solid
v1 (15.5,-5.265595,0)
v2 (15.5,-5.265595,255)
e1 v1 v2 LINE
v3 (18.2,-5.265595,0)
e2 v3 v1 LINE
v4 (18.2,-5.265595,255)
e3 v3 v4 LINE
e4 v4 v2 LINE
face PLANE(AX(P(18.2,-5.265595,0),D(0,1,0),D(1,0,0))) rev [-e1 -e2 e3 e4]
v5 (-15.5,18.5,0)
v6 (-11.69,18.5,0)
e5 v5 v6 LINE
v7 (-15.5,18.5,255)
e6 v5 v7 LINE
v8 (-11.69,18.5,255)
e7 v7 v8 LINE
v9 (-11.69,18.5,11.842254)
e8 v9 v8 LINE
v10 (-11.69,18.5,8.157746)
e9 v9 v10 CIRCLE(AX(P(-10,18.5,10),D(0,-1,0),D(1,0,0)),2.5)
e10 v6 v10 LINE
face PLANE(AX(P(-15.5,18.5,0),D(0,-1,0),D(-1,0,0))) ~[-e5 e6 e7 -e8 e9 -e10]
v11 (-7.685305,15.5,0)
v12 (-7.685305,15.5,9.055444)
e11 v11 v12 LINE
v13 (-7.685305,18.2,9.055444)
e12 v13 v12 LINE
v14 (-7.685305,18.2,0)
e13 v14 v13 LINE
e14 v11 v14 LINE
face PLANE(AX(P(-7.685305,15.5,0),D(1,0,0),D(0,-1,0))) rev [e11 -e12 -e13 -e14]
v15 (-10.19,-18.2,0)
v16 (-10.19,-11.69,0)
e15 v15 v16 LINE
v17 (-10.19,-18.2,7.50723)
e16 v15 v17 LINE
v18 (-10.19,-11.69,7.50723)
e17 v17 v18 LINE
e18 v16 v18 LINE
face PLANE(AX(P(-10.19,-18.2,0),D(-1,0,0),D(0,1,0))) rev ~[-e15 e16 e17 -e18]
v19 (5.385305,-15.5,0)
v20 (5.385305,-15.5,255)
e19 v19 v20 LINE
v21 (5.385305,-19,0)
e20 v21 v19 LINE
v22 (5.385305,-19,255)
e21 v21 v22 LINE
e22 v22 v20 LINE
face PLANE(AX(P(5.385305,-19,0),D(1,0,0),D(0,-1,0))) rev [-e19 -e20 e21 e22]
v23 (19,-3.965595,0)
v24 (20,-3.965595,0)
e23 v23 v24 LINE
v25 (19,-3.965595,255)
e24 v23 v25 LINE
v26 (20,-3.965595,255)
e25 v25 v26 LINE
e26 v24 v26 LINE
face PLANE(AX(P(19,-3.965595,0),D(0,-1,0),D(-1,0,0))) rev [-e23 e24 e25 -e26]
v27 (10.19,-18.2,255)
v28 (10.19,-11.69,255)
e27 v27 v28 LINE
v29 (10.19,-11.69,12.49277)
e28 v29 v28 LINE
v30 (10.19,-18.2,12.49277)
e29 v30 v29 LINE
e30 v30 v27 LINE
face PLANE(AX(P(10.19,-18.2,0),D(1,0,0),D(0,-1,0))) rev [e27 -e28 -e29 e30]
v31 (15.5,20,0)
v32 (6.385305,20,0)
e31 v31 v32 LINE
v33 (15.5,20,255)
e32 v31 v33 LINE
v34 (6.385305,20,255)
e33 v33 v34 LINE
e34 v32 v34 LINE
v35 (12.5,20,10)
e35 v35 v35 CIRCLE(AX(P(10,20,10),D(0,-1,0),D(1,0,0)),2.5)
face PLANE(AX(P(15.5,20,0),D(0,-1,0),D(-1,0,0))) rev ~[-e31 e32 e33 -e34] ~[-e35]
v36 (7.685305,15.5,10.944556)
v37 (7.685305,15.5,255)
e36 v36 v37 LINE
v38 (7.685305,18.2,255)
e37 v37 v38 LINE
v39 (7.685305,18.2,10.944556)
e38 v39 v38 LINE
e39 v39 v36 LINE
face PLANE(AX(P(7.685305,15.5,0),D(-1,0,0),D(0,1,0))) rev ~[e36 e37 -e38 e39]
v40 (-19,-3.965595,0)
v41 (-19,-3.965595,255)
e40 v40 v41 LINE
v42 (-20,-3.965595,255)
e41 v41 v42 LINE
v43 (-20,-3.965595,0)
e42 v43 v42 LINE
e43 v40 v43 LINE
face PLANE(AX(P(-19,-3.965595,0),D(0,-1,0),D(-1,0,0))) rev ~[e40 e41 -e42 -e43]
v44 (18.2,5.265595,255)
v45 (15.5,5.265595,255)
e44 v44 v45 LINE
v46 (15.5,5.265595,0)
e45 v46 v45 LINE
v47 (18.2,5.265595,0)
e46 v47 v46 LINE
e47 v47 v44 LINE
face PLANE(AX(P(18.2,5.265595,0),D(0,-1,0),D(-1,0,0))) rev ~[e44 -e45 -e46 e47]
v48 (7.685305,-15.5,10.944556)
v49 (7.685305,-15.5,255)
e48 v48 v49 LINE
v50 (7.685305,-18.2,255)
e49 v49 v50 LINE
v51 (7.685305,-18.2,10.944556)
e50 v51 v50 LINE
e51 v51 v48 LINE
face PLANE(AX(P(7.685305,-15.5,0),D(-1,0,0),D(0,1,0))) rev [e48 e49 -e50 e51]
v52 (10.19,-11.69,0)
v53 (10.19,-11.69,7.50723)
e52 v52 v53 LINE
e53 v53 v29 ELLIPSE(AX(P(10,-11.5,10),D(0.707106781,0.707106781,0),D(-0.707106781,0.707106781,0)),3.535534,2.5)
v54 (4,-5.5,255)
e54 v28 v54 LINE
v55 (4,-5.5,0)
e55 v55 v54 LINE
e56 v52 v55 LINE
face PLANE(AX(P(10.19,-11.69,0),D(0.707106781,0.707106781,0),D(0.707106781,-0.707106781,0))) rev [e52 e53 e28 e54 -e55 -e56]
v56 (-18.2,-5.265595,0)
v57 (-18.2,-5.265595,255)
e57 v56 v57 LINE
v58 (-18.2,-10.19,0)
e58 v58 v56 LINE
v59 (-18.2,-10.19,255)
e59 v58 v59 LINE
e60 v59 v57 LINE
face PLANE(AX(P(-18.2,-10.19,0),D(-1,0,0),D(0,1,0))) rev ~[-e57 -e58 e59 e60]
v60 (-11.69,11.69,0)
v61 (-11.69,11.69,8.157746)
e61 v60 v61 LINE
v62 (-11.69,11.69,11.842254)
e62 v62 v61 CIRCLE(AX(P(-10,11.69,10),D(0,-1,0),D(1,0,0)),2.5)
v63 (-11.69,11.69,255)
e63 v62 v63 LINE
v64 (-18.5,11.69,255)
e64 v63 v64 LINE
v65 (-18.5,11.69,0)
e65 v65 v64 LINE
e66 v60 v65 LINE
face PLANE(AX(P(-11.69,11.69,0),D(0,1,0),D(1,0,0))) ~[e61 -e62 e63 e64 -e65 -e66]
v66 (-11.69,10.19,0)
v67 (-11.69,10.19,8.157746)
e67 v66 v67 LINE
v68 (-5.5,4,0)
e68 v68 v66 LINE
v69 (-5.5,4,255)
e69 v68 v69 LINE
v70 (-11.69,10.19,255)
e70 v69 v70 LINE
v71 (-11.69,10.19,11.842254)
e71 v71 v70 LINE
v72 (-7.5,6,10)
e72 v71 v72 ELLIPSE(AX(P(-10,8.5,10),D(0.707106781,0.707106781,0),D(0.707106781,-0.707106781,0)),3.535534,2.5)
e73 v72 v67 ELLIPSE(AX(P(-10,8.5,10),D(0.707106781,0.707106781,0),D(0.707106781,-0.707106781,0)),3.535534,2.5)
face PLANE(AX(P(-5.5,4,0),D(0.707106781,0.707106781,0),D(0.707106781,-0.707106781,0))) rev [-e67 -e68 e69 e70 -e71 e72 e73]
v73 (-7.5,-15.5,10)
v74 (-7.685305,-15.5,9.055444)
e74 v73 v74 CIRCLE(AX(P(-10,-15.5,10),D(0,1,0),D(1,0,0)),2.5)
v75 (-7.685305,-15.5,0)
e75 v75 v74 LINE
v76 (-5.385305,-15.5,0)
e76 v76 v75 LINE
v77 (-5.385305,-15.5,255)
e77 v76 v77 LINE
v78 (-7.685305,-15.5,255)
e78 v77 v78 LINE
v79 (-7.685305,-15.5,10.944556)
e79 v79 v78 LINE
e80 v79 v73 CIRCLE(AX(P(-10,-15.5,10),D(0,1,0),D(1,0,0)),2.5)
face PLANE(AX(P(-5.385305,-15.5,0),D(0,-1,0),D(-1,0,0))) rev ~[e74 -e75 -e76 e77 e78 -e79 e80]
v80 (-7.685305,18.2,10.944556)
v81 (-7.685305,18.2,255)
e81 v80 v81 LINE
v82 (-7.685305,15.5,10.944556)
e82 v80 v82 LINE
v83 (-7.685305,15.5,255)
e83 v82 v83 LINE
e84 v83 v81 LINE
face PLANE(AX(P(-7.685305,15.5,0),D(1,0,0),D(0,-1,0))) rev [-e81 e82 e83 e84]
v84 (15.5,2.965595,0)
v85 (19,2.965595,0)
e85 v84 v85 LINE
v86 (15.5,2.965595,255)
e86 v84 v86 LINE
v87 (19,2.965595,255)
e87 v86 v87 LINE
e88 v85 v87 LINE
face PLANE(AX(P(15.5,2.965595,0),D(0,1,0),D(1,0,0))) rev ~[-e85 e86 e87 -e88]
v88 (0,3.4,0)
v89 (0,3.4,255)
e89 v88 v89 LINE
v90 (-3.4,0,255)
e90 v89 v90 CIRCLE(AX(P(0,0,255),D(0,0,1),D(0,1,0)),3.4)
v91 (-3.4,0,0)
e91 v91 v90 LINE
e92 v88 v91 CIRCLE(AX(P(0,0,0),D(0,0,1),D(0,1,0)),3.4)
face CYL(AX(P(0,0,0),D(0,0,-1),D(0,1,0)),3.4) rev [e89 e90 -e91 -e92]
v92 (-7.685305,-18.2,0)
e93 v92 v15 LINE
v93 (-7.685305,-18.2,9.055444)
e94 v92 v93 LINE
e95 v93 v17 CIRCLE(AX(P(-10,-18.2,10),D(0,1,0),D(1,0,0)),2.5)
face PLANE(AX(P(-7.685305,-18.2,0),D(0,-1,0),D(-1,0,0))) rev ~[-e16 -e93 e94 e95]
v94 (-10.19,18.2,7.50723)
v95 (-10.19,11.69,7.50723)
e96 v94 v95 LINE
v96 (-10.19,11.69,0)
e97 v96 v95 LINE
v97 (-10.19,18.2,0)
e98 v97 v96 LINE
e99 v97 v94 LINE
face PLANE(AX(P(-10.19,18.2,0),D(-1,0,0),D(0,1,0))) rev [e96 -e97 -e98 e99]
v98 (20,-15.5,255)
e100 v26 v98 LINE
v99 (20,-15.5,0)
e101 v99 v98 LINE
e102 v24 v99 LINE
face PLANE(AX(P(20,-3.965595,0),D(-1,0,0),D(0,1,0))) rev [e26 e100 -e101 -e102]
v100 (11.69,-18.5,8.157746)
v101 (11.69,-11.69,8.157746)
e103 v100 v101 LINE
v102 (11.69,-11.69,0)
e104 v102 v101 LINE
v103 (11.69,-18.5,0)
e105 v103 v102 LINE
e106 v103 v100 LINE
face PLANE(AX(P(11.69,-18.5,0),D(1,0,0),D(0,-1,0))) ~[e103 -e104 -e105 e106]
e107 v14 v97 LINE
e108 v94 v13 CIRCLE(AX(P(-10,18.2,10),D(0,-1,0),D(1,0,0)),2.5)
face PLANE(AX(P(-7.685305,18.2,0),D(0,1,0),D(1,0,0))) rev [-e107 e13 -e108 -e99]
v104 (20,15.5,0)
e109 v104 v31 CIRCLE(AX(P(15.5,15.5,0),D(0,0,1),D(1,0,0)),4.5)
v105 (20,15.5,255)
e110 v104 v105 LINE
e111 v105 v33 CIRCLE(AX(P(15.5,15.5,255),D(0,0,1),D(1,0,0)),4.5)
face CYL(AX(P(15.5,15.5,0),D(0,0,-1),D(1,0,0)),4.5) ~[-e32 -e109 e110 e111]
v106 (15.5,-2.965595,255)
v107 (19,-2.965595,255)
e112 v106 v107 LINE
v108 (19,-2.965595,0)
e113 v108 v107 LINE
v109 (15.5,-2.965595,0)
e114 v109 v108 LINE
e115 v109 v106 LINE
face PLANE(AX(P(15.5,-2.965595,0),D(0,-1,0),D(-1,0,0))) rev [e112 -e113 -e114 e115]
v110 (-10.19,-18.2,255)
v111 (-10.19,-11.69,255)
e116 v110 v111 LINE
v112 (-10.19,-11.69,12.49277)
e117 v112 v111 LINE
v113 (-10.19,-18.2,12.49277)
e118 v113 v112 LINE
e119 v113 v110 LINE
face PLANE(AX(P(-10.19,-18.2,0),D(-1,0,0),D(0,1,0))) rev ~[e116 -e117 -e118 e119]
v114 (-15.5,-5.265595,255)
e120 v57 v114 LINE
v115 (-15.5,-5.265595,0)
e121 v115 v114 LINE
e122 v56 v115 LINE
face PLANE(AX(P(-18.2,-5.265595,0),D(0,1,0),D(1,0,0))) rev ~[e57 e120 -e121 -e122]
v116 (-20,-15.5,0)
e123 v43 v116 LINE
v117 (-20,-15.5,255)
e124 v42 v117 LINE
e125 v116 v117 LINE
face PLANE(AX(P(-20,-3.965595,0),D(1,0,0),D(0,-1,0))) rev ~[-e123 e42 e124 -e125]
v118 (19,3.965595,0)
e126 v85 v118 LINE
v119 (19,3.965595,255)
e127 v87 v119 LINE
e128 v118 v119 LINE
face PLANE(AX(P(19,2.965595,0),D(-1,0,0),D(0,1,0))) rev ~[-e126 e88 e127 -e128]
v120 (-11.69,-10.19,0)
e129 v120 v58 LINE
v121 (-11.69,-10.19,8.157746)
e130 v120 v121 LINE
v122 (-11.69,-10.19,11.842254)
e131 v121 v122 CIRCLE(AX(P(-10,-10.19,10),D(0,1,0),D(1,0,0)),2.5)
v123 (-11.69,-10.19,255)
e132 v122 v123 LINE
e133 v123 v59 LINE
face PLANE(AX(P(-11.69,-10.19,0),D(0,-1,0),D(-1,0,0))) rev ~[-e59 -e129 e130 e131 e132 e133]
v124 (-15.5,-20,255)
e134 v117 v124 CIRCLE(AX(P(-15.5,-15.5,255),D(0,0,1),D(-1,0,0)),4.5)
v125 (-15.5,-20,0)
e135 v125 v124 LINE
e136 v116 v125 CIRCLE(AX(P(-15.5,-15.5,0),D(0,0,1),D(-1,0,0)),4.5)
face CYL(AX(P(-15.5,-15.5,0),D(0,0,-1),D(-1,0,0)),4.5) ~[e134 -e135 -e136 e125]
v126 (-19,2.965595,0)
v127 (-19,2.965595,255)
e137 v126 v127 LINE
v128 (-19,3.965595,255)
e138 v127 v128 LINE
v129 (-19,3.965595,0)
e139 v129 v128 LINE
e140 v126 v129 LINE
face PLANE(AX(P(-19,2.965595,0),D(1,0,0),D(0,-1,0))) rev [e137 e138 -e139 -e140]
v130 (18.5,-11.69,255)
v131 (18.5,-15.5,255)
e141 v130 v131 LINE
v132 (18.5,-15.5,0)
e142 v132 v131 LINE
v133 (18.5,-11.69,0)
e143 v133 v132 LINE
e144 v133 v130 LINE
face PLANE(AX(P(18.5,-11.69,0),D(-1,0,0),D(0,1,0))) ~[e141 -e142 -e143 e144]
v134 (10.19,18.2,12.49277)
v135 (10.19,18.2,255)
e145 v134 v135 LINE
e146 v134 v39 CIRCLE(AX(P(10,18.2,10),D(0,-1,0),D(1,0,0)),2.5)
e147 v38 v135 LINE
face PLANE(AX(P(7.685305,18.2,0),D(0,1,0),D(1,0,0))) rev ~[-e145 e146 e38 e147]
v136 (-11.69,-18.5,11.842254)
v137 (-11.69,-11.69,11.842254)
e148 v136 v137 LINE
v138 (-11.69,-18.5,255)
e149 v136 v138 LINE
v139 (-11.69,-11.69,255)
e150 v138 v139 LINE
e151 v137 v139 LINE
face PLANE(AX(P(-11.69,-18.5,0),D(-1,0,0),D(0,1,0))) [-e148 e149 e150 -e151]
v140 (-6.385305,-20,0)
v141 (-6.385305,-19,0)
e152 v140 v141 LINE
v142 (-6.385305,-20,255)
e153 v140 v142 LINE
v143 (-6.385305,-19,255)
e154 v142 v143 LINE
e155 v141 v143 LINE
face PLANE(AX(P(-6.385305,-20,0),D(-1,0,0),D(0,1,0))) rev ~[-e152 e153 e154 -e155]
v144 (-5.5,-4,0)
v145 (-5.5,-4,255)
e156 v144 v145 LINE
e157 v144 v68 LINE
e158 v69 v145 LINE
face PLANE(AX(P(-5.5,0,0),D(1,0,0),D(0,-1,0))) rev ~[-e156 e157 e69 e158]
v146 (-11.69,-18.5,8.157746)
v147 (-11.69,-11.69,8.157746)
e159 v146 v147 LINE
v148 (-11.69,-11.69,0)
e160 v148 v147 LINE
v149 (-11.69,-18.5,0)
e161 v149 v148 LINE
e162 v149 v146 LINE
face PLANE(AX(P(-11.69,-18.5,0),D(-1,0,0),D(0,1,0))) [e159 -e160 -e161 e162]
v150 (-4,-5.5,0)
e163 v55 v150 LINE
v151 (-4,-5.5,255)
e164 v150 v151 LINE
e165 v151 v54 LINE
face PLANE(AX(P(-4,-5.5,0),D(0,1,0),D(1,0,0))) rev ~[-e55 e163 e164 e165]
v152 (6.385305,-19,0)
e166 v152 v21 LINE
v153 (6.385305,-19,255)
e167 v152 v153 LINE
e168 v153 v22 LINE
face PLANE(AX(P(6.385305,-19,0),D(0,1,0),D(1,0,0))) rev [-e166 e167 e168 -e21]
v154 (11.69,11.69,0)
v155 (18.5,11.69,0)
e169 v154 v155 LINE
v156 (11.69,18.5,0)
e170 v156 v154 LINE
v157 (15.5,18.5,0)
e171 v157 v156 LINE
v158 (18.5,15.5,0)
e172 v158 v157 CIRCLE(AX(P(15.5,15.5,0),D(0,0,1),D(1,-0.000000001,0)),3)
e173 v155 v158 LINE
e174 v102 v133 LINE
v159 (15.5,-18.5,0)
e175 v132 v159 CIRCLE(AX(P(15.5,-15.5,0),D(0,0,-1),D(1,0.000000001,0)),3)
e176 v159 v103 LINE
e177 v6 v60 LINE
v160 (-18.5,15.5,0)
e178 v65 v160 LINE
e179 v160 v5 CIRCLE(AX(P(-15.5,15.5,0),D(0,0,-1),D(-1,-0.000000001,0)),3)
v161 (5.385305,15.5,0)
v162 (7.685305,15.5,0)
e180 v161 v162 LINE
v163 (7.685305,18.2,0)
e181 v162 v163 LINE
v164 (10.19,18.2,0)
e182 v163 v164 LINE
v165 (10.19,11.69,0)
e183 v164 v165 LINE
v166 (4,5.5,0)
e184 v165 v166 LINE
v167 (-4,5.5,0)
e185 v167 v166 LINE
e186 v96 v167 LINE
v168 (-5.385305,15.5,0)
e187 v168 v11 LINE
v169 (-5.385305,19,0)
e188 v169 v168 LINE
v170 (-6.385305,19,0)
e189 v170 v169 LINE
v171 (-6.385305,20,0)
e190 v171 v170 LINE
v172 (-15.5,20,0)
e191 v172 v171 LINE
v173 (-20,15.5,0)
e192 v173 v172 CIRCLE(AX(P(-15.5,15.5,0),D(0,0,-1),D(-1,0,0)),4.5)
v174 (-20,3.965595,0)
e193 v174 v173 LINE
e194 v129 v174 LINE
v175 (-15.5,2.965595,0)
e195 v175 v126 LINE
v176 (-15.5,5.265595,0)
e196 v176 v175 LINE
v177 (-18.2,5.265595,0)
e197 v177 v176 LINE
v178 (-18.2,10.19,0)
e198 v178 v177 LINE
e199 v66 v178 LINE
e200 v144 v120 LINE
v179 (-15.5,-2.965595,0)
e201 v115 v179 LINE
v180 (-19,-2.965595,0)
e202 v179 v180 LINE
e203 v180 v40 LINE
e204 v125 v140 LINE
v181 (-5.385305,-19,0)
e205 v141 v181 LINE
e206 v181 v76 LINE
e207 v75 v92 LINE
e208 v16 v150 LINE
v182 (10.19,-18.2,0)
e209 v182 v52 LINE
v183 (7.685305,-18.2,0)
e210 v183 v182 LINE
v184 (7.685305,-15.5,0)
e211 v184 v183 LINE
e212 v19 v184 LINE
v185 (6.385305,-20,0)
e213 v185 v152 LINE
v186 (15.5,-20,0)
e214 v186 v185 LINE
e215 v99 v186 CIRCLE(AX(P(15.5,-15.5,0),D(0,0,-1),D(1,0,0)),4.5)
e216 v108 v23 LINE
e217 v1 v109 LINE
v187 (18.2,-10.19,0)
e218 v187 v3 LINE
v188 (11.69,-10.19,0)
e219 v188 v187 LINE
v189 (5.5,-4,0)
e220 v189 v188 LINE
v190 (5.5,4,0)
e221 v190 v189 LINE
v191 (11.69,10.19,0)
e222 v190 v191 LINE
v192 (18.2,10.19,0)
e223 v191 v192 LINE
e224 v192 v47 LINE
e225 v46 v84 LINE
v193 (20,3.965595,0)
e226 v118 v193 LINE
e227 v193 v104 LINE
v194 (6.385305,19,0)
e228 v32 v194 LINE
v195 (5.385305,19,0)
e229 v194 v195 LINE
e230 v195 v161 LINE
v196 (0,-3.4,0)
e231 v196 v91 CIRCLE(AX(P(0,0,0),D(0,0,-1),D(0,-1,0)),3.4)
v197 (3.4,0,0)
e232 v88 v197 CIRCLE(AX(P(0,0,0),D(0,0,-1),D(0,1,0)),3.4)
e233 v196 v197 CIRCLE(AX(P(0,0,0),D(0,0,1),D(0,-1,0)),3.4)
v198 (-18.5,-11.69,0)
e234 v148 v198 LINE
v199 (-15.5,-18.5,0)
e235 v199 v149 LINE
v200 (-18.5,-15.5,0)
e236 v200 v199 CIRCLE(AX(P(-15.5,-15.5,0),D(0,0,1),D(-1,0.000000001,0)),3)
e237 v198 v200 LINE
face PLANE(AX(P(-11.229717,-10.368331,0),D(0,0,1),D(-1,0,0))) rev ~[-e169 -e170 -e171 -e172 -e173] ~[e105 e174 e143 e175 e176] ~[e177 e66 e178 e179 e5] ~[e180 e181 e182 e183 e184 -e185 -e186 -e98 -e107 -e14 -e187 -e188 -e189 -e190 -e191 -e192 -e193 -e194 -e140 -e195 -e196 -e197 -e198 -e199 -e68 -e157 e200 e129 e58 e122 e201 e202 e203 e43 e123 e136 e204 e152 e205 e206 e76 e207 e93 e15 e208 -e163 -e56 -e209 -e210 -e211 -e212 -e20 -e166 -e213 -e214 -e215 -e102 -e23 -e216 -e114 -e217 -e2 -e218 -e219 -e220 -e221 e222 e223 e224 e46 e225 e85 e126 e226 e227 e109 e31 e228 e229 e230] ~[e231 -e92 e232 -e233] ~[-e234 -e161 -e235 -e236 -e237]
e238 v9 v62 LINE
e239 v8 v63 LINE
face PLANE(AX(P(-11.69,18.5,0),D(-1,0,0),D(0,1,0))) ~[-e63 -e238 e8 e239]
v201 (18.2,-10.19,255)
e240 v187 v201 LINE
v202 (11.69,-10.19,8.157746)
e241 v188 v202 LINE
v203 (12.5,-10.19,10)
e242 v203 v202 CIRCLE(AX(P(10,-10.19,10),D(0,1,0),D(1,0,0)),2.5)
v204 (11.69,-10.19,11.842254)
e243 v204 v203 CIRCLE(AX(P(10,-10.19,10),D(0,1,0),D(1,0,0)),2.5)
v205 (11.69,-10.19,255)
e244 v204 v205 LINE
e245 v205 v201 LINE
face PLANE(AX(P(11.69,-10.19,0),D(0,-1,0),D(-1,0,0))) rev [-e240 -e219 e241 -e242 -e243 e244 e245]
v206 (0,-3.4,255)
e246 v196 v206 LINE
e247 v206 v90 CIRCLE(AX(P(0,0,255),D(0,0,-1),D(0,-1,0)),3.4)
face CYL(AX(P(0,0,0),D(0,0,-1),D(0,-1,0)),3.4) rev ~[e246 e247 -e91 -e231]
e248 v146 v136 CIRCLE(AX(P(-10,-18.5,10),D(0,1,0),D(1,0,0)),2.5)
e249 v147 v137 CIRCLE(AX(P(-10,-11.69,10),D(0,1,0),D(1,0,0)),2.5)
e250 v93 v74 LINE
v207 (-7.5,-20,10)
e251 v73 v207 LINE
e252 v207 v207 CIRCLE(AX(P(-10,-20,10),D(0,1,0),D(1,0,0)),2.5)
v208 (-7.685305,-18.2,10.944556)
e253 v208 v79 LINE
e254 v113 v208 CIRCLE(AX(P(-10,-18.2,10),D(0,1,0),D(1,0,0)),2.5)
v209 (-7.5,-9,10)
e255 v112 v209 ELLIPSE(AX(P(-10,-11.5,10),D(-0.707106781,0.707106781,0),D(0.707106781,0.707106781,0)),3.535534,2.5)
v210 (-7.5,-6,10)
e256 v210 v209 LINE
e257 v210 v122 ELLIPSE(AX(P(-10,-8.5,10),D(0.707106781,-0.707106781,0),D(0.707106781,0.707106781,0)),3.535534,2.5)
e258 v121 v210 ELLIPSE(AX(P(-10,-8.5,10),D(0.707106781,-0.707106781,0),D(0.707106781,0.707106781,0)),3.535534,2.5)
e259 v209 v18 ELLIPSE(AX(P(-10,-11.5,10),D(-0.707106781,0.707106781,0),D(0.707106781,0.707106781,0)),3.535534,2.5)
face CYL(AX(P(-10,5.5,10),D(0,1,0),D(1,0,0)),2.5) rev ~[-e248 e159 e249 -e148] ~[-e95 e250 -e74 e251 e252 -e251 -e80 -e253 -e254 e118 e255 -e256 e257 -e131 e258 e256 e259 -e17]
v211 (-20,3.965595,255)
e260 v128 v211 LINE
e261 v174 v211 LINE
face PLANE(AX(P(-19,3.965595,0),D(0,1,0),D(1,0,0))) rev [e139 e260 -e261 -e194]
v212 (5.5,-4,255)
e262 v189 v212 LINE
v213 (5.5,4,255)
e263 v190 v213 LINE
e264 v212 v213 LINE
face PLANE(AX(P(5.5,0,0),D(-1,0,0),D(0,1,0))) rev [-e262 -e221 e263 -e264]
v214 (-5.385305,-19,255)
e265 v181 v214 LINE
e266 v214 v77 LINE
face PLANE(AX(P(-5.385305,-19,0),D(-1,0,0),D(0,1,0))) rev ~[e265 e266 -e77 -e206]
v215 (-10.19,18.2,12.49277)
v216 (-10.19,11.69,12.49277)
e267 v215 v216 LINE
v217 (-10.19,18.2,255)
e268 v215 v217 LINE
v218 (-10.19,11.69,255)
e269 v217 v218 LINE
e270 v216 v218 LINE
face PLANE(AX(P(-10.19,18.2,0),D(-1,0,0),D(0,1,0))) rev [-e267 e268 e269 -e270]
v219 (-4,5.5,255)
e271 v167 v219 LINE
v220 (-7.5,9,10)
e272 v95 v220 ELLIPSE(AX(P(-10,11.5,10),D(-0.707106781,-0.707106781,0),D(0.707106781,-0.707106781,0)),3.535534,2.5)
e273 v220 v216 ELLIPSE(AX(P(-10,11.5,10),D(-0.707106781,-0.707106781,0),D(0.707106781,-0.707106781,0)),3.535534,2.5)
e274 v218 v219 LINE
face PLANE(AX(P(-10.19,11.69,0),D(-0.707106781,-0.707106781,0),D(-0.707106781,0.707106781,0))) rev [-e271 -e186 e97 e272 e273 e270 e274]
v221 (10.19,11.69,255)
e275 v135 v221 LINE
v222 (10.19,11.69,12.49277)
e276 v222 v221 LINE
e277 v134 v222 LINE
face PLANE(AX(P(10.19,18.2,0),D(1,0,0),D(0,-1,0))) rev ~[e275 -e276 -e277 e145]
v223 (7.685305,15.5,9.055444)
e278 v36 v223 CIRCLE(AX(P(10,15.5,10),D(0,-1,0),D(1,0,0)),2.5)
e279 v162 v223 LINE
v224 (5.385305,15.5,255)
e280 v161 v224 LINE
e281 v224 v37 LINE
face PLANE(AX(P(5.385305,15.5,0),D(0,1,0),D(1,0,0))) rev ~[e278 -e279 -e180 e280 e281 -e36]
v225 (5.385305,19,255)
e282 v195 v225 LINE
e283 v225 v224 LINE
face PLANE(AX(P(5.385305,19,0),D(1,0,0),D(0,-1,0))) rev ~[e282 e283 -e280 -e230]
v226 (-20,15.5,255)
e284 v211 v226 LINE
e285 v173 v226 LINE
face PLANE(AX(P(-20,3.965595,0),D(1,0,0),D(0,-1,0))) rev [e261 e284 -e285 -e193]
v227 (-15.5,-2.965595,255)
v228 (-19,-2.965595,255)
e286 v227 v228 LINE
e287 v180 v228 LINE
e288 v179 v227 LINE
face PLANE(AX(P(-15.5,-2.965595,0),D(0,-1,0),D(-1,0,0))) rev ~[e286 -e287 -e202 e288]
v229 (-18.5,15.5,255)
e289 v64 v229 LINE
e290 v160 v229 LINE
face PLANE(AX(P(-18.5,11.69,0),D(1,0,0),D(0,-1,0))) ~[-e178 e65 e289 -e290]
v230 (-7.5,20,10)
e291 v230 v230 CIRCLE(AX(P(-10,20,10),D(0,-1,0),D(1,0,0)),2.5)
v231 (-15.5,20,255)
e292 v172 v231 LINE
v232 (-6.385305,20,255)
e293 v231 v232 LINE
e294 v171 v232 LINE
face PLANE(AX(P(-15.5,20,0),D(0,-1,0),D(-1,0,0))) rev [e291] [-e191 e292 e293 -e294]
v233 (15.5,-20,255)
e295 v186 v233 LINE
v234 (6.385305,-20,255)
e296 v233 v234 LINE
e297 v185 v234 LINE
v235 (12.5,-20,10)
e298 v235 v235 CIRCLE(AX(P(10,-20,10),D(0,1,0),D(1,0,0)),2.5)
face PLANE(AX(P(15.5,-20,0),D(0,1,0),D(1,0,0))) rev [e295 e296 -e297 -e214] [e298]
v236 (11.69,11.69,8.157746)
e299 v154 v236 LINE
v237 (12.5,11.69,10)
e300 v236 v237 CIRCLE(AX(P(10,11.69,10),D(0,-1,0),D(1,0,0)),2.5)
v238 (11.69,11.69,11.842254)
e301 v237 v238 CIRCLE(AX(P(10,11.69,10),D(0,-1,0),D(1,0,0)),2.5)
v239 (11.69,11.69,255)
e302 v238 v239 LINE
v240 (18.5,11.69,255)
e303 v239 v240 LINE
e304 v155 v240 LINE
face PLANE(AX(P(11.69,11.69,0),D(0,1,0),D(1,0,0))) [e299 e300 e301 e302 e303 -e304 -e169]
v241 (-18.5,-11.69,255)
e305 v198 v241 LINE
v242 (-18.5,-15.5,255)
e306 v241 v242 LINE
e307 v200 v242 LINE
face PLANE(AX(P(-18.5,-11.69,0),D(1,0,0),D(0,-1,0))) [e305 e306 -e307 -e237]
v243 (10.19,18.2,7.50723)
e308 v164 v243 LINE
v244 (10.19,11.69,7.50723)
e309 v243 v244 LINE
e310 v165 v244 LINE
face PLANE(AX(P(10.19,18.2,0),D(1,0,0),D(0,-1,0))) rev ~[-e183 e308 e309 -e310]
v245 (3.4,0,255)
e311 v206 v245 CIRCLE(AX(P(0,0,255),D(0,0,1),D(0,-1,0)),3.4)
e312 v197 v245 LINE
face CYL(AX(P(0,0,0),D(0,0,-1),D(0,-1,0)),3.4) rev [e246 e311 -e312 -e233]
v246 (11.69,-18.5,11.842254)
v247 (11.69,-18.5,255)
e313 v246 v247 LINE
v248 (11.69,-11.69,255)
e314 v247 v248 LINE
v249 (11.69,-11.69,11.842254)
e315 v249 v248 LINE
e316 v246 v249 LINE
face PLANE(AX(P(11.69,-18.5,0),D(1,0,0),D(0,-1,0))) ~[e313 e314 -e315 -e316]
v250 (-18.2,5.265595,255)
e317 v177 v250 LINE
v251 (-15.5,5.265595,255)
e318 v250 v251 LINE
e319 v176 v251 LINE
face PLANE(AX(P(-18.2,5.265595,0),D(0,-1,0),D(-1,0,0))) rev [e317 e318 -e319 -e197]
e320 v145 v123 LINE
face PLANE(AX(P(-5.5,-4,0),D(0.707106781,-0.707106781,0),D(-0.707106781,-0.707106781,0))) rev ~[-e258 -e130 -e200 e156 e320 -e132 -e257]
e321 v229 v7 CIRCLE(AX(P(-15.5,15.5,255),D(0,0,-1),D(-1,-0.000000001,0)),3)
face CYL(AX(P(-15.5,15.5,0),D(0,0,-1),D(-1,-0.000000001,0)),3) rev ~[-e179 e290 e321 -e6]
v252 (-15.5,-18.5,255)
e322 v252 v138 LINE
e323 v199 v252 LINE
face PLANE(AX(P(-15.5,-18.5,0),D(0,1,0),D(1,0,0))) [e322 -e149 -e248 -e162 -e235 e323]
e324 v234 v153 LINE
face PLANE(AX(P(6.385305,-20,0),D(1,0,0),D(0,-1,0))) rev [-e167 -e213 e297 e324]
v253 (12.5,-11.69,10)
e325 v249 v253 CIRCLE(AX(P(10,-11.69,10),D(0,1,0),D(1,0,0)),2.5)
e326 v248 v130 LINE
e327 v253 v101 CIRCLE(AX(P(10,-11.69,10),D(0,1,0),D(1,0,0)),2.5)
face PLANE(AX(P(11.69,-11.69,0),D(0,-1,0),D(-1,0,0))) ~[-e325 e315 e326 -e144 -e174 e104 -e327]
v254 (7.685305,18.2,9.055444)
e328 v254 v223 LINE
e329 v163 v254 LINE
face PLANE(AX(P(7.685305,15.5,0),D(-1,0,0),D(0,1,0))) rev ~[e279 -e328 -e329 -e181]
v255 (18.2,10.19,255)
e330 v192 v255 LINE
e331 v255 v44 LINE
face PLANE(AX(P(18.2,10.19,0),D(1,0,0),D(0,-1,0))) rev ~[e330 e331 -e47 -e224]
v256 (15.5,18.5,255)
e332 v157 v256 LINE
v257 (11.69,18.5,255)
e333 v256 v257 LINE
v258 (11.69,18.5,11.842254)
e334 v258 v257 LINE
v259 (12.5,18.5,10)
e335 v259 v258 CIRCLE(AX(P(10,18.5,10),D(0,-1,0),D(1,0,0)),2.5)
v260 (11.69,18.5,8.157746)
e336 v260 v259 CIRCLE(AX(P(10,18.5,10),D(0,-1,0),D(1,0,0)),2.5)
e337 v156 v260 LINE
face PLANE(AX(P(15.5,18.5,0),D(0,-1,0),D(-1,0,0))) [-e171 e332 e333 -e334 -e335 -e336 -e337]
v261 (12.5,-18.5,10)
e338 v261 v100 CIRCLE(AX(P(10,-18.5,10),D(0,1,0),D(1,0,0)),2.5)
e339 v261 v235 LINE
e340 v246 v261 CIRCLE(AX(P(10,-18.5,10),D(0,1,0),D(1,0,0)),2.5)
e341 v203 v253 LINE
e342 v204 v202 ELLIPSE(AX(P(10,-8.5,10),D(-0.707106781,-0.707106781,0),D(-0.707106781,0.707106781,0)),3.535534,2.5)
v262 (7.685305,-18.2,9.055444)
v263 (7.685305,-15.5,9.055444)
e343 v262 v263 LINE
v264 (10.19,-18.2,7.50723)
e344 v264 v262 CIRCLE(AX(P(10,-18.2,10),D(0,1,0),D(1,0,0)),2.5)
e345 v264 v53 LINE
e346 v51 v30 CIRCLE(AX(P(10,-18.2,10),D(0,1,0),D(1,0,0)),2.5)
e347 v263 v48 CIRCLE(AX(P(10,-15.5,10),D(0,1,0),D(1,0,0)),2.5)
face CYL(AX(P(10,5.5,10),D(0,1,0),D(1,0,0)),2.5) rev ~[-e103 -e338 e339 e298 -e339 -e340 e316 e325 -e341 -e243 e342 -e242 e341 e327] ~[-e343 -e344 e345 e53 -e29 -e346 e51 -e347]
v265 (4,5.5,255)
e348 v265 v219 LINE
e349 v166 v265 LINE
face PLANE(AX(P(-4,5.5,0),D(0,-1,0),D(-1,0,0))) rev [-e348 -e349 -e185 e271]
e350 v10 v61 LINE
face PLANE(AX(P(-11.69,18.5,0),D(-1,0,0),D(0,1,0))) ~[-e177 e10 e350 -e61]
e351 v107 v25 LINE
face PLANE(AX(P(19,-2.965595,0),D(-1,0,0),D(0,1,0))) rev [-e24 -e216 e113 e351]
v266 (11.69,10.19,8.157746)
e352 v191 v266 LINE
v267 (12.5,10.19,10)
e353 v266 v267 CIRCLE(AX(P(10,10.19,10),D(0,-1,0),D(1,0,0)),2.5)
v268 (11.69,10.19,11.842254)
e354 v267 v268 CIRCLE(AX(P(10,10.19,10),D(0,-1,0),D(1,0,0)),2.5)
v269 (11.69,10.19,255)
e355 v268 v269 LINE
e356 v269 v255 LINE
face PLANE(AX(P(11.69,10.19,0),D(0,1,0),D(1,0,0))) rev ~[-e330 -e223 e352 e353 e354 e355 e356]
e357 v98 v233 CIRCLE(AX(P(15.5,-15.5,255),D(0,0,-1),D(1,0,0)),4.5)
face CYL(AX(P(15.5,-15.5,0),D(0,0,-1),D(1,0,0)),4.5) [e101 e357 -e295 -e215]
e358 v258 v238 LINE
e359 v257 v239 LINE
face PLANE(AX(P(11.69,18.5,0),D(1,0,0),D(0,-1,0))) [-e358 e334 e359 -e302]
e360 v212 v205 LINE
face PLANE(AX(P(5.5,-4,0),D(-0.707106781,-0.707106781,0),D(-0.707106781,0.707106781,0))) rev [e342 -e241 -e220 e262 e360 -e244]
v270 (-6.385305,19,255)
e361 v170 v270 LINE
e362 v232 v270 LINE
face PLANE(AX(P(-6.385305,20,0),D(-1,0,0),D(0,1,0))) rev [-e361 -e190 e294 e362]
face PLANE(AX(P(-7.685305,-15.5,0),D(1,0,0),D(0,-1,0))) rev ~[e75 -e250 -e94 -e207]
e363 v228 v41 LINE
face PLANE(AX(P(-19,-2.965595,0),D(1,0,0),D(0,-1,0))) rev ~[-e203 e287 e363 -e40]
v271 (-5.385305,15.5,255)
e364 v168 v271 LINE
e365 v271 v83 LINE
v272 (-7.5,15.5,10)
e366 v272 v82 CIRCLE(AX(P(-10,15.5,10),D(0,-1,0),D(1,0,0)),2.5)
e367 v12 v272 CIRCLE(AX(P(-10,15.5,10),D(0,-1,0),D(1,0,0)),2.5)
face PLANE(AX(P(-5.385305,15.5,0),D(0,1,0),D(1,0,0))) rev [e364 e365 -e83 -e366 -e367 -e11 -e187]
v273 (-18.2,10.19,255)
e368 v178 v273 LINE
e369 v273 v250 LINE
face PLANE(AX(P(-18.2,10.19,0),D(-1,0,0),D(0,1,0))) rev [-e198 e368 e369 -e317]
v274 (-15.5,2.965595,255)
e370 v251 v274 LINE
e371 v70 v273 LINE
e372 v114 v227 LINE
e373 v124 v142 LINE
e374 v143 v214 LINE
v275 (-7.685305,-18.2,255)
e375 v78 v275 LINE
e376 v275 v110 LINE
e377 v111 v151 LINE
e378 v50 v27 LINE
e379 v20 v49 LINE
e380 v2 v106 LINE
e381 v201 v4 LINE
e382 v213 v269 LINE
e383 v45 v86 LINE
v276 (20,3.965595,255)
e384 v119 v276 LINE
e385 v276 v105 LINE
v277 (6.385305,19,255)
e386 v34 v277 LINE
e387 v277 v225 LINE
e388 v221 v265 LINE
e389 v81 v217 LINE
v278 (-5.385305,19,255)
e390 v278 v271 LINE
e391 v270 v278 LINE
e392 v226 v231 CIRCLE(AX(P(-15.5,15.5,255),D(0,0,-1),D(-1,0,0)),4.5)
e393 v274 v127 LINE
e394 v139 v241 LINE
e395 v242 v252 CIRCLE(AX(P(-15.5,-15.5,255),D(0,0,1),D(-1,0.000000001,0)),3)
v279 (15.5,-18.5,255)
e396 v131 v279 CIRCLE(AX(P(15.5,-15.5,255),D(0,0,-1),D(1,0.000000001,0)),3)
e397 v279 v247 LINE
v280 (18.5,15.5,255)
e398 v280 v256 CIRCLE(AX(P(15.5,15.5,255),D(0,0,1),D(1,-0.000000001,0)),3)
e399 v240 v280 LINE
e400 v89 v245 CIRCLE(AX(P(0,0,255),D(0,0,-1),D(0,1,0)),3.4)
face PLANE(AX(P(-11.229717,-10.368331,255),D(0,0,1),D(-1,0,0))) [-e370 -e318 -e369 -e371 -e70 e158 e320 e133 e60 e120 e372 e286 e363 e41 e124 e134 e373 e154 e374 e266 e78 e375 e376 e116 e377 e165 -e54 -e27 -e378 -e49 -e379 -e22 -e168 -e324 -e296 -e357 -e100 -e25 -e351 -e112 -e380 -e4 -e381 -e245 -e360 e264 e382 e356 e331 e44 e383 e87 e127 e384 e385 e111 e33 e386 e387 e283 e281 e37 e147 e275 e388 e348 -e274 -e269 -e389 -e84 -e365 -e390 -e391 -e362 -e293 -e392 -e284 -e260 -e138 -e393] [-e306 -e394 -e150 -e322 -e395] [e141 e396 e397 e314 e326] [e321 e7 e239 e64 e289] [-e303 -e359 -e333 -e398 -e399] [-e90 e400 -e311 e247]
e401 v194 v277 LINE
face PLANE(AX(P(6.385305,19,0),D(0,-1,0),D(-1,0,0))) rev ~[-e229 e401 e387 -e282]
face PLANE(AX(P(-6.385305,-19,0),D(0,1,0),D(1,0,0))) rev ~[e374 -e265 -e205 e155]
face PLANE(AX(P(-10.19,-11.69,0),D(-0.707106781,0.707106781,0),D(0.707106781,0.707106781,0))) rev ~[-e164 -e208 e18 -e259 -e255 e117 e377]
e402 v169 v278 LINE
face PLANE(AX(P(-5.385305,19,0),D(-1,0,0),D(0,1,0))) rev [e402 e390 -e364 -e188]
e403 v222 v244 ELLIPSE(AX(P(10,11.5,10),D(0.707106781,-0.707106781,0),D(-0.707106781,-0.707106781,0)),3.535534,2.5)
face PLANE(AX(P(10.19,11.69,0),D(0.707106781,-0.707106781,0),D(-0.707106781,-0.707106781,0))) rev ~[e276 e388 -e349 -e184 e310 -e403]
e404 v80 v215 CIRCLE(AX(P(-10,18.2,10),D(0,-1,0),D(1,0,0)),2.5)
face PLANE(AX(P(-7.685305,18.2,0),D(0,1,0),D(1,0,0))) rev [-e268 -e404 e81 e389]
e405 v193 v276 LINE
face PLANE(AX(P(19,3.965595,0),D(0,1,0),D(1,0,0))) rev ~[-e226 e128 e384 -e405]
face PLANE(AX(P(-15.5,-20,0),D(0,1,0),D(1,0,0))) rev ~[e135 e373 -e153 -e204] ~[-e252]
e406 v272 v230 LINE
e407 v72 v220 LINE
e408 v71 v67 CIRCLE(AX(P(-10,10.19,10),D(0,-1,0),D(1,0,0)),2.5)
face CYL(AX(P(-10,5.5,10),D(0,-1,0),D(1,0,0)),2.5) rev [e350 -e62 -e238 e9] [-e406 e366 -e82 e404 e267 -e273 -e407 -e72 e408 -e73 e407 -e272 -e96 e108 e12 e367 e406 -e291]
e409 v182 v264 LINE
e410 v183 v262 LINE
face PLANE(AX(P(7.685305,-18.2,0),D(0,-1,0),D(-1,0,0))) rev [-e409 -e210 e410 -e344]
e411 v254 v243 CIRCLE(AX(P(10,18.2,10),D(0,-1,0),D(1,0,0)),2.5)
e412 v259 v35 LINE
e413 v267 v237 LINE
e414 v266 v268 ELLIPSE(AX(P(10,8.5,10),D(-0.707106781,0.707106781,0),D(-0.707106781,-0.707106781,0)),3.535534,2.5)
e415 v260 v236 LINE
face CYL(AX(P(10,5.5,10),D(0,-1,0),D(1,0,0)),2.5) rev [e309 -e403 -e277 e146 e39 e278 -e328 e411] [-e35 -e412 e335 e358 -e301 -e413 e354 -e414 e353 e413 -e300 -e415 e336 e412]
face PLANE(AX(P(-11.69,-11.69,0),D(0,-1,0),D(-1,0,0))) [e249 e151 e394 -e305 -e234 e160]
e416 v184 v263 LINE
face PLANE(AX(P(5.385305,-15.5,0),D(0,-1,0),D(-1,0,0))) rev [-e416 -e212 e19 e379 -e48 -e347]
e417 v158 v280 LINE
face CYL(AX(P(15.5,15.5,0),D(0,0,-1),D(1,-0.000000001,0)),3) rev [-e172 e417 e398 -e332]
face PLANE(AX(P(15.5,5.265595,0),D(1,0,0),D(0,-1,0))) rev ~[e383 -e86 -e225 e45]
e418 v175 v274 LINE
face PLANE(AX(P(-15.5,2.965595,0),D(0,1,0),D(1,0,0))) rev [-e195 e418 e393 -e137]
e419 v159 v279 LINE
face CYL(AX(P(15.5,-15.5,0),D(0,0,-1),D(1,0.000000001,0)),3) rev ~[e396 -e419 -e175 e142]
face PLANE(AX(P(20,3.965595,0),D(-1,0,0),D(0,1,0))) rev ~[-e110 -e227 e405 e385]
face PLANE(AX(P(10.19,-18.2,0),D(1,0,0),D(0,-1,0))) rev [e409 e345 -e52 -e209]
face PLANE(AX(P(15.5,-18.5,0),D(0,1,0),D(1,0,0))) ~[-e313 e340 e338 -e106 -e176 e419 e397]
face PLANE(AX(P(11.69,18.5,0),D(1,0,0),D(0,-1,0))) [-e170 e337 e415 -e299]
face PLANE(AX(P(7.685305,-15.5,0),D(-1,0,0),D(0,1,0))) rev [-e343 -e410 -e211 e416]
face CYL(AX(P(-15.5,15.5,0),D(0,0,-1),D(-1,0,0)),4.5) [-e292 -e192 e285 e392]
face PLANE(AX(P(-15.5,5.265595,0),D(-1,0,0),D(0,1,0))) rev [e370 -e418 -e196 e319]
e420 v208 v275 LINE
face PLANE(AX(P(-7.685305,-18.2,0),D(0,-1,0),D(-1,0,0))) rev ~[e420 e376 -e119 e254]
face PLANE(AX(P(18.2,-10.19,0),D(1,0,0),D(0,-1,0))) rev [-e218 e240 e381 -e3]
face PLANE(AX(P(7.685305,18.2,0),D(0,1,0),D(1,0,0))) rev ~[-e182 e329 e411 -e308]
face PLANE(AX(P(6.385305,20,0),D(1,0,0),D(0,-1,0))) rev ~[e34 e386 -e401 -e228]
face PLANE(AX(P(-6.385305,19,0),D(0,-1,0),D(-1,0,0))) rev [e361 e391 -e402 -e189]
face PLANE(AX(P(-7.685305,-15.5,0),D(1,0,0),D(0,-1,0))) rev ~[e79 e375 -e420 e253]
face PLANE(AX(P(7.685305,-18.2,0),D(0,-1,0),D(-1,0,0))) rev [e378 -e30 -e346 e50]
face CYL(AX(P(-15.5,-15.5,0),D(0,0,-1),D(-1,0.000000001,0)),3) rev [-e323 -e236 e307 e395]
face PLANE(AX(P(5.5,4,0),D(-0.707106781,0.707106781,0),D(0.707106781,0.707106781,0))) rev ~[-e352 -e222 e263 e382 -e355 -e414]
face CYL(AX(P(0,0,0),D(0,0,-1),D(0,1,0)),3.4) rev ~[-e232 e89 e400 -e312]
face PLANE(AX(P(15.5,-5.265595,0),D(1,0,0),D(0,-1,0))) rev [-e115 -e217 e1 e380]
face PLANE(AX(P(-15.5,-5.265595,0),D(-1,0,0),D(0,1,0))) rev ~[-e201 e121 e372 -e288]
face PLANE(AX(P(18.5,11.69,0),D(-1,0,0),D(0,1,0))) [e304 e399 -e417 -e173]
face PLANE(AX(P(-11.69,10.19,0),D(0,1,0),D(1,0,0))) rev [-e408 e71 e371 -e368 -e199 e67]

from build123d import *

# Parameters (mm, degrees)
BOSS_EXTRUDE1_DEPTH     = 255
MIRROR3_COPY_1_DEPTH    = 255
MIRROR3_COPY_2_DEPTH    = 255
SKETCH2_R               = 2.5
CUT_EXTRUDE1_DEPTH      = 15.5
CUT_EXTRUDE1_DEPTH_BACK = 26.5


with BuildPart() as part:
    # Sketch1 → Boss-Extrude1 (new body)
    with BuildSketch(Plane.XY):
        with BuildLine():
            Line((3.4, 0), (5.5, 0))
            Line((5.5, 0), (5.5, 4))
            Line((5.5, 4), (11.69, 10.19))
            Line((11.69, 10.19), (18.2, 10.19))
            Line((18.2, 10.19), (18.2, 5.265595036))
            Line((18.2, 5.265595036), (15.5, 5.265595036))
            Line((15.5, 5.265595036), (15.5, 2.965595036))
            Line((15.5, 2.965595036), (19, 2.965595036))
            Line((19, 2.965595036), (19, 3.965595036))
            Line((19, 3.965595036), (20, 3.965595036))
            Line((20, 3.965595036), (20, 15.5))
            ThreePointArc((20, 15.5), (18.681980515, 18.681980515), (15.5, 20))
            Line((15.5, 20), (6.385304712, 20))
            Line((6.385304712, 20), (6.385304712, 19))
            Line((6.385304712, 19), (5.385304712, 19))
            Line((5.385304712, 19), (5.385304712, 15.5))
            Line((5.385304712, 15.5), (7.685304712, 15.5))
            Line((7.685304712, 15.5), (7.685304712, 18.2))
            Line((7.685304712, 18.2), (10.19, 18.2))
            Line((10.19, 18.2), (10.19, 11.69))
            Line((10.19, 11.69), (4, 5.5))
            Line((4, 5.5), (0, 5.5))
            Line((0, 5.5), (0, 3.4))
            ThreePointArc((0, 3.4), (2.404163056, 2.404163056), (3.4, 0))
        make_face()
        with BuildLine():
            Line((18.5, 11.69), (18.5, 15.5))
            ThreePointArc((18.5, 15.5), (17.621320344, 17.621320344), (15.5, 18.5))
            Line((15.5, 18.5), (11.69, 18.5))
            Line((11.69, 18.5), (11.69, 11.69))
            Line((11.69, 11.69), (18.5, 11.69))
        make_face(mode=Mode.SUBTRACT)
    boss_extrude1 = extrude(amount=BOSS_EXTRUDE1_DEPTH)

    # Mirror1: Boss-Extrude1 across plane
    add(boss_extrude1.mirror(Plane.ZX))

    # Mirror2: Boss-Extrude1 across plane
    add(boss_extrude1.mirror(Plane(origin=(0, 0, 0), x_dir=(0, 0, 1), z_dir=(1, 0, 0))))

    # Mirror3 copy 1 sketch → Mirror3 copy 1 (add)
    with BuildSketch(Plane(origin=(0, 0, 0), x_dir=(-1, 0, 0), z_dir=(0, 0, 1))):
        with BuildLine():
            Line((3.4, 0), (5.5, 0))
            Line((5.5, 0), (5.5, 4))
            Line((5.5, 4), (11.69, 10.19))
            Line((11.69, 10.19), (18.2, 10.19))
            Line((18.2, 10.19), (18.2, 5.265595036))
            Line((18.2, 5.265595036), (15.5, 5.265595036))
            Line((15.5, 5.265595036), (15.5, 2.965595036))
            Line((15.5, 2.965595036), (19, 2.965595036))
            Line((19, 2.965595036), (19, 3.965595036))
            Line((19, 3.965595036), (20, 3.965595036))
            Line((20, 3.965595036), (20, 15.5))
            ThreePointArc((20, 15.5), (18.681980515, 18.681980515), (15.5, 20))
            Line((15.5, 20), (6.385304712, 20))
            Line((6.385304712, 20), (6.385304712, 19))
            Line((6.385304712, 19), (5.385304712, 19))
            Line((5.385304712, 19), (5.385304712, 15.5))
            Line((5.385304712, 15.5), (7.685304712, 15.5))
            Line((7.685304712, 15.5), (7.685304712, 18.2))
            Line((7.685304712, 18.2), (10.19, 18.2))
            Line((10.19, 18.2), (10.19, 11.69))
            Line((10.19, 11.69), (4, 5.5))
            Line((4, 5.5), (0, 5.5))
            Line((0, 5.5), (0, 3.4))
            ThreePointArc((0, 3.4), (2.404163056, 2.404163056), (3.4, 0))
        make_face()
        with BuildLine():
            Line((18.5, 11.69), (18.5, 15.5))
            ThreePointArc((18.5, 15.5), (17.621320344, 17.621320344), (15.5, 18.5))
            Line((15.5, 18.5), (11.69, 18.5))
            Line((11.69, 18.5), (11.69, 11.69))
            Line((11.69, 11.69), (18.5, 11.69))
        make_face(mode=Mode.SUBTRACT)
    extrude(amount=MIRROR3_COPY_1_DEPTH)

    # Mirror3 copy 2 sketch → Mirror3 copy 2 (add)
    with BuildSketch(Plane.XY):
        with BuildLine():
            Line((3.4, 0), (5.5, 0))
            Line((5.5, 0), (5.5, -4))
            Line((5.5, -4), (11.69, -10.19))
            Line((11.69, -10.19), (18.2, -10.19))
            Line((18.2, -10.19), (18.2, -5.265595036))
            Line((18.2, -5.265595036), (15.5, -5.265595036))
            Line((15.5, -5.265595036), (15.5, -2.965595036))
            Line((15.5, -2.965595036), (19, -2.965595036))
            Line((19, -2.965595036), (19, -3.965595036))
            Line((19, -3.965595036), (20, -3.965595036))
            Line((20, -3.965595036), (20, -15.5))
            ThreePointArc((20, -15.5), (18.681980515, -18.681980515), (15.5, -20))
            Line((15.5, -20), (6.385304712, -20))
            Line((6.385304712, -20), (6.385304712, -19))
            Line((6.385304712, -19), (5.385304712, -19))
            Line((5.385304712, -19), (5.385304712, -15.5))
            Line((5.385304712, -15.5), (7.685304712, -15.5))
            Line((7.685304712, -15.5), (7.685304712, -18.2))
            Line((7.685304712, -18.2), (10.19, -18.2))
            Line((10.19, -18.2), (10.19, -11.69))
            Line((10.19, -11.69), (4, -5.5))
            Line((4, -5.5), (0, -5.5))
            Line((0, -5.5), (0, -3.4))
            ThreePointArc((0, -3.4), (2.404163056, -2.404163056), (3.4, 0))
        make_face()
        with BuildLine():
            Line((18.5, -11.69), (18.5, -15.5))
            ThreePointArc((18.5, -15.5), (17.621320344, -17.621320344), (15.5, -18.5))
            Line((15.5, -18.5), (11.69, -18.5))
            Line((11.69, -18.5), (11.69, -11.69))
            Line((11.69, -11.69), (18.5, -11.69))
        make_face(mode=Mode.SUBTRACT)
    extrude(amount=MIRROR3_COPY_2_DEPTH)

    # Sketch2 → Cut-Extrude1 (cut, two sides)
    with BuildSketch(Plane(origin=(0, 5.5, 0), x_dir=(1, 0, 0), z_dir=(0, 1, 0))) as cut_extrude1_sk:
        with Locations((-10, -10)):
            Circle(SKETCH2_R)
        with Locations((10, -10)):
            Circle(SKETCH2_R)
    extrude(amount=CUT_EXTRUDE1_DEPTH, mode=Mode.SUBTRACT)
    extrude(cut_extrude1_sk.sketch, amount=-CUT_EXTRUDE1_DEPTH_BACK, mode=Mode.SUBTRACT)


solid = part.part
